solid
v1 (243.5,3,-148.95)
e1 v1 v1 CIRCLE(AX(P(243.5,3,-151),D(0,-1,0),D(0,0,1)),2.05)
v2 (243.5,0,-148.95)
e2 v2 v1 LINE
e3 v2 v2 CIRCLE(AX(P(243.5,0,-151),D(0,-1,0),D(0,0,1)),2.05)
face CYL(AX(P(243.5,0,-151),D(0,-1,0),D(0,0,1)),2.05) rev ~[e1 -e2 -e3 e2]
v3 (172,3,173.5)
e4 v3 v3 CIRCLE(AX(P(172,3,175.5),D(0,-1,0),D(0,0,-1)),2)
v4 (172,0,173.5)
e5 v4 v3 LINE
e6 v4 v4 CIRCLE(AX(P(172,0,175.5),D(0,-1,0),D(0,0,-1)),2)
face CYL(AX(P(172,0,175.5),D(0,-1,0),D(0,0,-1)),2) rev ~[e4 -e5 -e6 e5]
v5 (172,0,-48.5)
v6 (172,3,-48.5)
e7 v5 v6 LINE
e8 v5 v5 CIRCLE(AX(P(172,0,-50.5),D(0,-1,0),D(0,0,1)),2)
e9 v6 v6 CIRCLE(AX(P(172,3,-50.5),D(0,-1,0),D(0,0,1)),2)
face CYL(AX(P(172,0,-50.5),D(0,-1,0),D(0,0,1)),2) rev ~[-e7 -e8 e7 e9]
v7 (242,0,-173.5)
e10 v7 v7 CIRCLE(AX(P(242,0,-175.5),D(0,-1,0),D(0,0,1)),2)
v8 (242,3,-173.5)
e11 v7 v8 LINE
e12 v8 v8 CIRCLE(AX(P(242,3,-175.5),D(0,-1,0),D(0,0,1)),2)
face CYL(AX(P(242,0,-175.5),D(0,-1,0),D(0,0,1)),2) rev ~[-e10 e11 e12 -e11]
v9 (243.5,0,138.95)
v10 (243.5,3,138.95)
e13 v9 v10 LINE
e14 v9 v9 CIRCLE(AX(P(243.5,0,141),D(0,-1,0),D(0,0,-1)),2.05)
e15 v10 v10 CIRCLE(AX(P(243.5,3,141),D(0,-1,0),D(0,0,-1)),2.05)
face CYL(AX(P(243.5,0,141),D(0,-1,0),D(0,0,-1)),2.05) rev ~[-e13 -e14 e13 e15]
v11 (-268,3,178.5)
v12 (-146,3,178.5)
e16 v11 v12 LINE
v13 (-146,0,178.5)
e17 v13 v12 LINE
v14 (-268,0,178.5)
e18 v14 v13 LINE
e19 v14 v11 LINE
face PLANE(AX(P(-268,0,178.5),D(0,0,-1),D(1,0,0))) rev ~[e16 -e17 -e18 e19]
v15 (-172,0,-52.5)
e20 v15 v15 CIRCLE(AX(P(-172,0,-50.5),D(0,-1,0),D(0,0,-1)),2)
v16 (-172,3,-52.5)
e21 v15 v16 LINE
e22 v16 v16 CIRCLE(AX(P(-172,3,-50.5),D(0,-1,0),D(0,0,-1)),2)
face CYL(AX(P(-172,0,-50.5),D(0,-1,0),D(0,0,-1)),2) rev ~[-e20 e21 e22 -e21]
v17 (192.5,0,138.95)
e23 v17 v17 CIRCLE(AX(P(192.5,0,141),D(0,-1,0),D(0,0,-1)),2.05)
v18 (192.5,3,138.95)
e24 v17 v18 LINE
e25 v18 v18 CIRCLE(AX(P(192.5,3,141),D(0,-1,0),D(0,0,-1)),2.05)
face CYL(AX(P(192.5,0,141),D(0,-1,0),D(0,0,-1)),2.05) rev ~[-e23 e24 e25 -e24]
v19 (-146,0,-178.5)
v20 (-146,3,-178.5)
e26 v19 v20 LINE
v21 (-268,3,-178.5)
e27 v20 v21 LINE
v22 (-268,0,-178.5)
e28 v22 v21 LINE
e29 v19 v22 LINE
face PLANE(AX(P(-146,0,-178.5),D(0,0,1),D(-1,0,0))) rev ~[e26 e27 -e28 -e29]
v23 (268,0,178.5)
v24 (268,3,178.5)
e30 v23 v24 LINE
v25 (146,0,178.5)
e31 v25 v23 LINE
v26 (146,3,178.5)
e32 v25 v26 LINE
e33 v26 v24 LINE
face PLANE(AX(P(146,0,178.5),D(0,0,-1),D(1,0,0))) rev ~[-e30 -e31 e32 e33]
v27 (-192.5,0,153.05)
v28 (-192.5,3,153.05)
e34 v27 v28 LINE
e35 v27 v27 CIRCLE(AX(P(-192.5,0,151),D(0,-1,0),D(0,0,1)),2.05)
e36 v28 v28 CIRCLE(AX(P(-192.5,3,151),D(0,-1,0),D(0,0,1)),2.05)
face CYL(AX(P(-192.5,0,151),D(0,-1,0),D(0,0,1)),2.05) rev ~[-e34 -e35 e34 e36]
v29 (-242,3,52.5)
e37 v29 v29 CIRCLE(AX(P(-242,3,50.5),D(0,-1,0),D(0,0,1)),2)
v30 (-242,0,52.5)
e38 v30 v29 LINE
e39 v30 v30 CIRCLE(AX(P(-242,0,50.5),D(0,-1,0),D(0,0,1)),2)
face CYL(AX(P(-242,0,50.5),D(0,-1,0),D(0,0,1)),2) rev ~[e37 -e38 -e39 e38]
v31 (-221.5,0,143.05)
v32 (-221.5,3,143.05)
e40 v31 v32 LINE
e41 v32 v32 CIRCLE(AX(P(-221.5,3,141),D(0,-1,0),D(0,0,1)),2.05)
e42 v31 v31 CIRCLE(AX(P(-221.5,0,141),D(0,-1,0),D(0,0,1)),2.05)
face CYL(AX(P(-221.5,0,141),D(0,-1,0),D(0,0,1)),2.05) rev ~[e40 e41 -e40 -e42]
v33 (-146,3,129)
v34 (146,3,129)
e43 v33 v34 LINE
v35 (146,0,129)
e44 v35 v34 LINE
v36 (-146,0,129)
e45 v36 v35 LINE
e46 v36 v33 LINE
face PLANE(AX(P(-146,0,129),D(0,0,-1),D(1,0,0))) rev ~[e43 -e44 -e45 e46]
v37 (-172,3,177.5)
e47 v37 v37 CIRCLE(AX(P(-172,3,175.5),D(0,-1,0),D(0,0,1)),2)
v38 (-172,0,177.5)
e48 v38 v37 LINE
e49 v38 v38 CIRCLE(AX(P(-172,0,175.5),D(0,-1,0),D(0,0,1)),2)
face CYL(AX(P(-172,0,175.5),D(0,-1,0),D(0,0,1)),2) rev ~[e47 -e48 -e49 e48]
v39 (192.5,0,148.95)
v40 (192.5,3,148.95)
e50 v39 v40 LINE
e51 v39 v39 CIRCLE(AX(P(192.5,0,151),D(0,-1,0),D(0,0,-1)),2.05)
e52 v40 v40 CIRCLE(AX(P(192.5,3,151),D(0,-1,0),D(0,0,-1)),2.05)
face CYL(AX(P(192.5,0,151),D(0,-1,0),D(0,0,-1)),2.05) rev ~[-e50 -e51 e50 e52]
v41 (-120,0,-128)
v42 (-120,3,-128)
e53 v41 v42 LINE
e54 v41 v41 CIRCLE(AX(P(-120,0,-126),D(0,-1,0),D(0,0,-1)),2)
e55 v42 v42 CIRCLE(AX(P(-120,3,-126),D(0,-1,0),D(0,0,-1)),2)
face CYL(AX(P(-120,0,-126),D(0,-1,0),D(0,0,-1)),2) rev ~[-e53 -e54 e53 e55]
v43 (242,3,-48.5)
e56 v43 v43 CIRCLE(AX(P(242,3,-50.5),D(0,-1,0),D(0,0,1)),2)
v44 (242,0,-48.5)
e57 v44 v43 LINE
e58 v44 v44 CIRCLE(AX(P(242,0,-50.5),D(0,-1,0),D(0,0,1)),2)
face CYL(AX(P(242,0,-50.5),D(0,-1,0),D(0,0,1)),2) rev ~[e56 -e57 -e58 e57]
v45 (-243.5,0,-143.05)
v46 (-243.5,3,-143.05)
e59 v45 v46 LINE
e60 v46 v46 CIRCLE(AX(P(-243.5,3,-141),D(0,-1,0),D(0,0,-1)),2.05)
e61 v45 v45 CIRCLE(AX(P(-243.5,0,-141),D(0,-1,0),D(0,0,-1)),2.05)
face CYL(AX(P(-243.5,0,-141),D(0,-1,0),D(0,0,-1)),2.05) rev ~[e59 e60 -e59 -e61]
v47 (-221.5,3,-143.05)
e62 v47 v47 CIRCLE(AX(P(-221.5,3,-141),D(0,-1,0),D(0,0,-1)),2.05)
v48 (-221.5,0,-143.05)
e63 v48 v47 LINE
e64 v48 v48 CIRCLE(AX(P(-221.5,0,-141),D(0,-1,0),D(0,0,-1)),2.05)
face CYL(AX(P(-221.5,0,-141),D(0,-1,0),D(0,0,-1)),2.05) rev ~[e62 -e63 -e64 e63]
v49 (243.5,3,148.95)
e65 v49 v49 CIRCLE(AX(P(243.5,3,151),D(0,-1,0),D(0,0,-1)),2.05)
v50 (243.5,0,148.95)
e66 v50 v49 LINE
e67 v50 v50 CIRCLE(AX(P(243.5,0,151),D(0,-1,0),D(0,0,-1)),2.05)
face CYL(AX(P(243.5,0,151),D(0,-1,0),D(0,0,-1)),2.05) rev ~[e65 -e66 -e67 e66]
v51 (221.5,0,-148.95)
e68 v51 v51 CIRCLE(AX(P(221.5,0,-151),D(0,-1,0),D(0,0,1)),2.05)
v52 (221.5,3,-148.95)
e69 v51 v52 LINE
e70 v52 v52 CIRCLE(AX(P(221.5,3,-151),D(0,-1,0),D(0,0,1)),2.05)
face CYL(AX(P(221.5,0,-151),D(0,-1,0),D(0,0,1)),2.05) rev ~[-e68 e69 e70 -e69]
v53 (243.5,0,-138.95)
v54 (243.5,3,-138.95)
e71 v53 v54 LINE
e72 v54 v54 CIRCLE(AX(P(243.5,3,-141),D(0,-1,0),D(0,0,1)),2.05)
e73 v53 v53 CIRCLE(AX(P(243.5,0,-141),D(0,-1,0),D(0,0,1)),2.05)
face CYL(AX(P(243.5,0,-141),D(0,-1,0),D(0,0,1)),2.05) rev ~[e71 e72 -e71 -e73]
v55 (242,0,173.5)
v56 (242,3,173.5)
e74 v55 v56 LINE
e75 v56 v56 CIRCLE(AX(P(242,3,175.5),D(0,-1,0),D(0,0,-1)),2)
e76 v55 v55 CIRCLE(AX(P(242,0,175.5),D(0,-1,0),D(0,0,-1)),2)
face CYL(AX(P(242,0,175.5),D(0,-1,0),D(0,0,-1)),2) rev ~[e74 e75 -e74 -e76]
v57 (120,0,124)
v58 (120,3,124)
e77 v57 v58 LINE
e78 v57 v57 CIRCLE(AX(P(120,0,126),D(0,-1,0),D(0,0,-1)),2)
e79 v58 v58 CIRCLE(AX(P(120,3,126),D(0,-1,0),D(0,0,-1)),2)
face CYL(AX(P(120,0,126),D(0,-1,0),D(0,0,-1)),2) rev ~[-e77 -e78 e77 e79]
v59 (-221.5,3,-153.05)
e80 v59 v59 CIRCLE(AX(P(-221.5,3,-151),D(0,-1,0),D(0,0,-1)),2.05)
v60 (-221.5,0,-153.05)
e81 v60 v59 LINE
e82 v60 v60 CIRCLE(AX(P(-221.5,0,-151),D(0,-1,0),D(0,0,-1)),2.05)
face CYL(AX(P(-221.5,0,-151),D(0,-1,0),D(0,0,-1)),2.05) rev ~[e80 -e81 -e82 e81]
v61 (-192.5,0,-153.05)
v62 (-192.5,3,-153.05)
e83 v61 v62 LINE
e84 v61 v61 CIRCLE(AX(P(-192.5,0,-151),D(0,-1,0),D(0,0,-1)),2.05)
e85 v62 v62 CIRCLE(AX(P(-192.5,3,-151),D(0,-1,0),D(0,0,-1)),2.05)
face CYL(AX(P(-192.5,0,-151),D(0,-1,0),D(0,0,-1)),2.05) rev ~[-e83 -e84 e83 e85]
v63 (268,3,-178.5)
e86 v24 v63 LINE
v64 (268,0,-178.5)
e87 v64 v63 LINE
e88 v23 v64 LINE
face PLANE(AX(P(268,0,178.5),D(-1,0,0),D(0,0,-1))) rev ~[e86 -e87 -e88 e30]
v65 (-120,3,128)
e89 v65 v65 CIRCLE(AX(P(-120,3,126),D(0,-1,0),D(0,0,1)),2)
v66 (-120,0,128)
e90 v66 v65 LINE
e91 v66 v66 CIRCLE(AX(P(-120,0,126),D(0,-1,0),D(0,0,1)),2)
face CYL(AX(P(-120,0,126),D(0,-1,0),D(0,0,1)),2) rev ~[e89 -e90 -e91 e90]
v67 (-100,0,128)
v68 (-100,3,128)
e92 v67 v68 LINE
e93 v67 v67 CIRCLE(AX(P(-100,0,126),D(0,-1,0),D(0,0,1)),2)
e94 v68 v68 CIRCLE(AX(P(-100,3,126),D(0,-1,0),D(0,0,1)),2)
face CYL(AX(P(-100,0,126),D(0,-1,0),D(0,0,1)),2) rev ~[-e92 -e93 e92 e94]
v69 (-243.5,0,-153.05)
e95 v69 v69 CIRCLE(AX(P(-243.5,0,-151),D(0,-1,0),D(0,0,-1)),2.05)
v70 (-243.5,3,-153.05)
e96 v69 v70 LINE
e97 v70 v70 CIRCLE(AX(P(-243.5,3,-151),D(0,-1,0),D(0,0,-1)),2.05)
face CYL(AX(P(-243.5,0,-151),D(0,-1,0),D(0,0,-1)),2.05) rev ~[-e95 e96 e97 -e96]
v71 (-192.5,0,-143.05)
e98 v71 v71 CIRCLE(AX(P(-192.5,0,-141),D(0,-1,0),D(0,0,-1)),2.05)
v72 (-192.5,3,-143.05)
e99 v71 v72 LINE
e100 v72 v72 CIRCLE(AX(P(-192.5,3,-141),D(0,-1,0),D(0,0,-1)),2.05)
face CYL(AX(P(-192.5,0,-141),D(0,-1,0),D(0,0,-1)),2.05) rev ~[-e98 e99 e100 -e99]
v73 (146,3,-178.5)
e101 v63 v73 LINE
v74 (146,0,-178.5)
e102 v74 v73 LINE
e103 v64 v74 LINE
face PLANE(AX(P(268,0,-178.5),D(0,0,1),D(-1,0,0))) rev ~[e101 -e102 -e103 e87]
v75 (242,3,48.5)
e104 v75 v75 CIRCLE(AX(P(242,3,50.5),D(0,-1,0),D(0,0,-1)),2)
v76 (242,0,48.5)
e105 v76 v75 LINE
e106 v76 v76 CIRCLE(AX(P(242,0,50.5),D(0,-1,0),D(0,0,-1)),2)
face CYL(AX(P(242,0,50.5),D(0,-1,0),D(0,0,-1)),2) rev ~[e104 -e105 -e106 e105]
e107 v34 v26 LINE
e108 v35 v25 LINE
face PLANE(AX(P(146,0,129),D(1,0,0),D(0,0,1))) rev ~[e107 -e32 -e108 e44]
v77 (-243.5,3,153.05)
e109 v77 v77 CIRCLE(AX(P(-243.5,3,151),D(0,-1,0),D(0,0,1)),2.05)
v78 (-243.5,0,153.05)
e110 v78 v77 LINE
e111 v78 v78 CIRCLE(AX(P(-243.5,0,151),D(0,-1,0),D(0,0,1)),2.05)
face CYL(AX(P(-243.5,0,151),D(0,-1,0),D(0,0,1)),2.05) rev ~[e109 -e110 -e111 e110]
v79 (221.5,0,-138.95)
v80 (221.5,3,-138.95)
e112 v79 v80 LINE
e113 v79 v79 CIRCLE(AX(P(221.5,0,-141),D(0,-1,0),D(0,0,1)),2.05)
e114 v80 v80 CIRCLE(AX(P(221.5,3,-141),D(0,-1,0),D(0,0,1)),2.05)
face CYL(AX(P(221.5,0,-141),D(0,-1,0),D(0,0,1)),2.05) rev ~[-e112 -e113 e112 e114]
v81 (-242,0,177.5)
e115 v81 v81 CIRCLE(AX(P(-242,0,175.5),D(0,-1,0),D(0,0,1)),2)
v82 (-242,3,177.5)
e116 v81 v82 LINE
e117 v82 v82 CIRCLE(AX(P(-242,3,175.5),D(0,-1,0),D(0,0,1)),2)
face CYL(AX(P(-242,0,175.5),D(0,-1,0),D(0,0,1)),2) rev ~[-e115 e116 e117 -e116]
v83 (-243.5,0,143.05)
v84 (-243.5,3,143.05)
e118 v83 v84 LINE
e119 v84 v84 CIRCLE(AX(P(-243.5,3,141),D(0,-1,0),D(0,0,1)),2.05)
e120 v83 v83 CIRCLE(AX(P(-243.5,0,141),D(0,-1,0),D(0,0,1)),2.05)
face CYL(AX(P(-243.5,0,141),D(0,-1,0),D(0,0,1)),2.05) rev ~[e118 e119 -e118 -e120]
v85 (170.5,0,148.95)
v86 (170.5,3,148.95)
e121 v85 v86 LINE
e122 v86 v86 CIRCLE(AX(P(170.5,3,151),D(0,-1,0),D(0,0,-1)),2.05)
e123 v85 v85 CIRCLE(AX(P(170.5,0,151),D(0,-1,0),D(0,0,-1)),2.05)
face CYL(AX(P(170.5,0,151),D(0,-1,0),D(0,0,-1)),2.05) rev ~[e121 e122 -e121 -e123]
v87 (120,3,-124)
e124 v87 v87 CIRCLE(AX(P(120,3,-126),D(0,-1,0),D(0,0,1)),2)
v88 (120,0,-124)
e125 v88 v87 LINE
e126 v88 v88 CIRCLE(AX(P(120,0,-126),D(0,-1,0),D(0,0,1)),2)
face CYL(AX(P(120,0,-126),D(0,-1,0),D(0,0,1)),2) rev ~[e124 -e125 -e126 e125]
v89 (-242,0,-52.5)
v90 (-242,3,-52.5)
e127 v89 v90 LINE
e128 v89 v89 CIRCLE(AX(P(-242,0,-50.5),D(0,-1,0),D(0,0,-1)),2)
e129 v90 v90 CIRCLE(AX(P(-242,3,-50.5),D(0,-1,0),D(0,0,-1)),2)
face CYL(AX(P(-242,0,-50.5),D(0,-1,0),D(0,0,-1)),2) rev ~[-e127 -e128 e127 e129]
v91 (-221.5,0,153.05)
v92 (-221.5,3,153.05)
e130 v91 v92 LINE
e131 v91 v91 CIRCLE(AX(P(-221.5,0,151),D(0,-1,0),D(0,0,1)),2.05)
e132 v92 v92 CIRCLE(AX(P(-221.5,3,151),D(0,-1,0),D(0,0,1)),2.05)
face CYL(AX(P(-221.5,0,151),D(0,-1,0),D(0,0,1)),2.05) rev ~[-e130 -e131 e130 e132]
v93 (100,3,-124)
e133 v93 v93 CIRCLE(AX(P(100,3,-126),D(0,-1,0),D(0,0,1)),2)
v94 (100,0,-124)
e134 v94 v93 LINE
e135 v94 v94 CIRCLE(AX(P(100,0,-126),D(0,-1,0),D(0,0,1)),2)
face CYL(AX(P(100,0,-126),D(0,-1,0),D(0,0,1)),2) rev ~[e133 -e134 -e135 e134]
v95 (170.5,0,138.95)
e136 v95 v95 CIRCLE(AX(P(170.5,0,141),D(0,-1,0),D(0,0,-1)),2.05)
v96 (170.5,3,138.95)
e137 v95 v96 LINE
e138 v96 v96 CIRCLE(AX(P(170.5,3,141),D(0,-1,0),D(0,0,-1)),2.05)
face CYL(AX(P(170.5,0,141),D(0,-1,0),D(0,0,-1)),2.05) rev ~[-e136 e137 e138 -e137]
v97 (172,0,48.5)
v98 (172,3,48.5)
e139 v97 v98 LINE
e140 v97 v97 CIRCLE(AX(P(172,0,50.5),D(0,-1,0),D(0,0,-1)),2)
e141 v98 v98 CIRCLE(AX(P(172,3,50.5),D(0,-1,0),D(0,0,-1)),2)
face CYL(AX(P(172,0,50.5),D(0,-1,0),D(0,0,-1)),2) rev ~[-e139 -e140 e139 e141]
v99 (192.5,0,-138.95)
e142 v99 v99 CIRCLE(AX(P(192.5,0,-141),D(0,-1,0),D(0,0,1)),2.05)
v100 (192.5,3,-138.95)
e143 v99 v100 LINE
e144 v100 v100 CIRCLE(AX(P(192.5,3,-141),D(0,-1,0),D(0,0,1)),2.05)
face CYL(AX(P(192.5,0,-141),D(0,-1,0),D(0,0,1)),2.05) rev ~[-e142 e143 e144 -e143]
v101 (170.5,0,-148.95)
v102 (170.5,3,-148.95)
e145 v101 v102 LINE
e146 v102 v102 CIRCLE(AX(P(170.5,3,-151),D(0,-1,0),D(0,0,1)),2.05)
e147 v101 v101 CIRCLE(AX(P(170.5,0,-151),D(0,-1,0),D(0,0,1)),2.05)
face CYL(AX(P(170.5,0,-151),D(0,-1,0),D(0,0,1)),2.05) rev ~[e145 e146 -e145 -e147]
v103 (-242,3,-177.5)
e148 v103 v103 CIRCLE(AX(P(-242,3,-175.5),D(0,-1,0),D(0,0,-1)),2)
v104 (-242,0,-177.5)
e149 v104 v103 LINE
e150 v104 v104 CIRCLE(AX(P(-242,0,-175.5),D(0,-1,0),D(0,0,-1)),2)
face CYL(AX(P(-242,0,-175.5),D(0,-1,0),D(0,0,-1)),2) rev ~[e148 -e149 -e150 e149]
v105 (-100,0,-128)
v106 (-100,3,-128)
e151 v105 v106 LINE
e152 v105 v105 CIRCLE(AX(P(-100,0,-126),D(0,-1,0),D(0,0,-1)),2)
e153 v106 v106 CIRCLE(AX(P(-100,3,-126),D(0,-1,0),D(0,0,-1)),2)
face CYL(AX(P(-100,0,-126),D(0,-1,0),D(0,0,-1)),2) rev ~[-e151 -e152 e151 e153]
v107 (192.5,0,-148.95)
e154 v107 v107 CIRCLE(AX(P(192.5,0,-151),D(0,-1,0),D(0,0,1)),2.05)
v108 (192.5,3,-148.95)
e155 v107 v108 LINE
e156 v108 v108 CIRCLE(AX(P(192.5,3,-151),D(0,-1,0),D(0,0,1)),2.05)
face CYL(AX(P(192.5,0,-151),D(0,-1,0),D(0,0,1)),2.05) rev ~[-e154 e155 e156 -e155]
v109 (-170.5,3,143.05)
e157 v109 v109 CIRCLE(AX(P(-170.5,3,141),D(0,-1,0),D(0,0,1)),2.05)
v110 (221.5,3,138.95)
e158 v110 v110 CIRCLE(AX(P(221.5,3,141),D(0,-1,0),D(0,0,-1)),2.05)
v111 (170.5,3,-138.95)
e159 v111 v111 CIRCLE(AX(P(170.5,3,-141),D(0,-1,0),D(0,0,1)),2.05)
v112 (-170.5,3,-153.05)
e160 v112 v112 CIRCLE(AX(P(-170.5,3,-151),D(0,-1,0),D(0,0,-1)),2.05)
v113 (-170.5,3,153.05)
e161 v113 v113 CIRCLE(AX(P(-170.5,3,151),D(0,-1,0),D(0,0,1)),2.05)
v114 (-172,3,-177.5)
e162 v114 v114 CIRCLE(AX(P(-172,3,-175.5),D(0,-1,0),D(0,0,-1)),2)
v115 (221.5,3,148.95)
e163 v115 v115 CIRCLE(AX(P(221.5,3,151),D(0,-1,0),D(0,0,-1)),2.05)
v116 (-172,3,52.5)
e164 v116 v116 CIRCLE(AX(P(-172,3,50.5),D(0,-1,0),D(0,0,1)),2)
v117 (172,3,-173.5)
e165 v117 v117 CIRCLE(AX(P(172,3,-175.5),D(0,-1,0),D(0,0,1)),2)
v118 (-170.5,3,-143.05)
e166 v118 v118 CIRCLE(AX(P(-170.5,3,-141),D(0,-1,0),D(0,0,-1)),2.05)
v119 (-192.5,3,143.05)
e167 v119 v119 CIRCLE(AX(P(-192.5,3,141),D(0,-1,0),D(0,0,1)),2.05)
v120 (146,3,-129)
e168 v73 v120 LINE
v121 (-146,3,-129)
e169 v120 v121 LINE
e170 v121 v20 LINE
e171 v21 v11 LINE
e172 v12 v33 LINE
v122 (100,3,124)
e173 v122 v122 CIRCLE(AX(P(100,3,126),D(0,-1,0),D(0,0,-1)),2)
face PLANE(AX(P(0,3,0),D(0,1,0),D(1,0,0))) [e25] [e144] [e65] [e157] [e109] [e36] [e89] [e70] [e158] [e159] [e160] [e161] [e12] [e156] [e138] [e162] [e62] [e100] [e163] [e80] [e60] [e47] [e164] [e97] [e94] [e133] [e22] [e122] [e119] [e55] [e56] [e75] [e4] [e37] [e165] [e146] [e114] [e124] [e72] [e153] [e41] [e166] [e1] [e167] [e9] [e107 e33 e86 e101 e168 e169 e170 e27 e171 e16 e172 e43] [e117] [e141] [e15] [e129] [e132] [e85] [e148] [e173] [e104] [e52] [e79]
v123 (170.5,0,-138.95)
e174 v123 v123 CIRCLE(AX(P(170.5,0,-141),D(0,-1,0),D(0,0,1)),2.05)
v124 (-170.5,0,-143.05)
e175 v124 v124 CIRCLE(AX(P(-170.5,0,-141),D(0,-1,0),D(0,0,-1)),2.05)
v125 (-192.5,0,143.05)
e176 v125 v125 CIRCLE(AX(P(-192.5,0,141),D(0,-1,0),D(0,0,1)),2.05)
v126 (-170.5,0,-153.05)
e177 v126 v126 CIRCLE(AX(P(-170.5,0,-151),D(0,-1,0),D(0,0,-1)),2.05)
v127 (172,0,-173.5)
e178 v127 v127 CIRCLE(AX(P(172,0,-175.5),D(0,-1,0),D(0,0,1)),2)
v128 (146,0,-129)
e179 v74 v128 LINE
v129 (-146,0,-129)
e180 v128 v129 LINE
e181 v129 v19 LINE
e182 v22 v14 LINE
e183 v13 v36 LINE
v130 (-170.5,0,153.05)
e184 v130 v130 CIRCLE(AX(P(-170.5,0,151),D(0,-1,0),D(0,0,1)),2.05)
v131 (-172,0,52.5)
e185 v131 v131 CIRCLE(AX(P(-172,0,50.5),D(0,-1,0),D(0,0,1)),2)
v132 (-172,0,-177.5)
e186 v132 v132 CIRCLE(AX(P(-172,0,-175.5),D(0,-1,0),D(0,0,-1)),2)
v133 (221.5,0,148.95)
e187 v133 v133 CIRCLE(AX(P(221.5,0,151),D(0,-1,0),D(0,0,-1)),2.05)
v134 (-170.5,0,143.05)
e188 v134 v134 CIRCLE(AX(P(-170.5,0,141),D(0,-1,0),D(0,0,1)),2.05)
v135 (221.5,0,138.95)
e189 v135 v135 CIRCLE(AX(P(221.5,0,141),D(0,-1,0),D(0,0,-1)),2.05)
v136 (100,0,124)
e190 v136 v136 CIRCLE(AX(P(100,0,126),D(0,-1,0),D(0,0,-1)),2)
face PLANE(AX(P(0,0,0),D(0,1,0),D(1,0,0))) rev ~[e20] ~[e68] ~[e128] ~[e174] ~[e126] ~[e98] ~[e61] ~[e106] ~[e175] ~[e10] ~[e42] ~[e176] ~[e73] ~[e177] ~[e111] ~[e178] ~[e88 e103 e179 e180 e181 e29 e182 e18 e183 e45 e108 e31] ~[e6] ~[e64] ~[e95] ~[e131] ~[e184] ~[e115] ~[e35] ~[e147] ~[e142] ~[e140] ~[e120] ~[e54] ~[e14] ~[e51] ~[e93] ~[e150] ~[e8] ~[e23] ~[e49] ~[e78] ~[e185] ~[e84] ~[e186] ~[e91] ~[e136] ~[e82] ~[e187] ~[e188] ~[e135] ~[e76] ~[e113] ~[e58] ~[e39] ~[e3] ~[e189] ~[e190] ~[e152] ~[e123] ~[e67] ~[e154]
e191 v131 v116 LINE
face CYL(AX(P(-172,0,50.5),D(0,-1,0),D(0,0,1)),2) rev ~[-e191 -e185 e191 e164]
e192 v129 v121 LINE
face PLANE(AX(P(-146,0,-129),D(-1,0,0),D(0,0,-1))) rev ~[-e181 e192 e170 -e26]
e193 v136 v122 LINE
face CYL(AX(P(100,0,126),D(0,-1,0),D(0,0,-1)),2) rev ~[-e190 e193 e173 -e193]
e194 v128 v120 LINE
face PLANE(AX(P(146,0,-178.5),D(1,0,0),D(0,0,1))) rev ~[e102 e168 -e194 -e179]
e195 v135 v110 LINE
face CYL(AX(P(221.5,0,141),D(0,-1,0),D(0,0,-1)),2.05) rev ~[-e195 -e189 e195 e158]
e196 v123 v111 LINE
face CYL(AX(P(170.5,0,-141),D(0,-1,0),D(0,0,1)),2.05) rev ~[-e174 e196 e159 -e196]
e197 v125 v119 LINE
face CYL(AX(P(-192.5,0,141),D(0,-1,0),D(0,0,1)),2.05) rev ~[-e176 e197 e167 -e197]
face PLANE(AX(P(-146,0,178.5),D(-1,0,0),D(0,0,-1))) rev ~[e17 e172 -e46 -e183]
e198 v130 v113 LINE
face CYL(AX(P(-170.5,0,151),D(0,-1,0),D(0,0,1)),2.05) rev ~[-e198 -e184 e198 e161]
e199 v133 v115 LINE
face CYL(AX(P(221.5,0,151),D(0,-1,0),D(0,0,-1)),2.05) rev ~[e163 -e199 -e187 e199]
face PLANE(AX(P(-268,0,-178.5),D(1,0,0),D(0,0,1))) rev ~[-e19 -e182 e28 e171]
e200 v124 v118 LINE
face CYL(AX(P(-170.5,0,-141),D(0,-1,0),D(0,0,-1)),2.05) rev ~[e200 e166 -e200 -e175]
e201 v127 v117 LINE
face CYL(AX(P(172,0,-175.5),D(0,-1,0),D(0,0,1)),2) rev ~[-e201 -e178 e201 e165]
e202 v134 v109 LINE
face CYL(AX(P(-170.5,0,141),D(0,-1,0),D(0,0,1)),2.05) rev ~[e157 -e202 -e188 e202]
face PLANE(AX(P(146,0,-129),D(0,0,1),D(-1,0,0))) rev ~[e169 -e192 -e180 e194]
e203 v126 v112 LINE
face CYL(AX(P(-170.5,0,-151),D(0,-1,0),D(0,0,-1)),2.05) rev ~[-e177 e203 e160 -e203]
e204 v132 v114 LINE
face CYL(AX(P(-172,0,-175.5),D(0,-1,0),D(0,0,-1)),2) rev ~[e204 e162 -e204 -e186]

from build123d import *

# Parameters (mm, degrees)
EXTRUDE_1_DEPTH     = 3
SKETCH_6_R          = 2
SKETCH_6_R_2        = 2.05
CUT_EXTRUDE_2_DEPTH = 3


with BuildPart() as part:
    # 草图1 → 凸台-拉伸1 (new body)
    with BuildSketch(Plane(origin=(0, 0, 0), x_dir=(1, 0, 0), z_dir=(0, 1, 0))):
        Polygon((-268, 178.5), (-268, -178.5), (-146, -178.5), (-146, -129), (146, -129), (146, -178.5), (268, -178.5), (268, 178.5), (146, 178.5), (146, 129), (-146, 129), (-146, 178.5), align=None)
    extrude(amount=EXTRUDE_1_DEPTH)

    # 草图6 → 切除-拉伸2 (cut)
    with BuildSketch(Plane.XZ):
        with Locations(Location((172, 175.5, 0), (0, 0, 270))):
            Circle(SKETCH_6_R)
        with Locations(Location((242, 175.5, 0), (0, 0, 270))):
            Circle(SKETCH_6_R)
        with Locations(Location((170.5, 151, 0), (0, 0, 270))):
            Circle(SKETCH_6_R_2)
        with Locations(Location((192.5, 151, 0), (0, 0, 270))):
            Circle(SKETCH_6_R_2)
        with Locations(Location((192.5, 141, 0), (0, 0, 270))):
            Circle(SKETCH_6_R_2)
        with Locations(Location((170.5, 141, 0), (0, 0, 270))):
            Circle(SKETCH_6_R_2)
        with Locations(Location((221.5, 151, 0), (0, 0, 270))):
            Circle(SKETCH_6_R_2)
        with Locations(Location((221.5, 141, 0), (0, 0, 270))):
            Circle(SKETCH_6_R_2)
        with Locations(Location((243.5, 151, 0), (0, 0, 270))):
            Circle(SKETCH_6_R_2)
        with Locations(Location((243.5, 141, 0), (0, 0, 270))):
            Circle(SKETCH_6_R_2)
        with Locations(Location((172, 50.5, 0), (0, 0, 270))):
            Circle(SKETCH_6_R)
        with Locations(Location((242, 50.5, 0), (0, 0, 270))):
            Circle(SKETCH_6_R)
        with Locations(Location((100, 126, 0), (0, 0, 270))):
            Circle(SKETCH_6_R)
        with Locations(Location((120, 126, 0), (0, 0, 270))):
            Circle(SKETCH_6_R)
        with Locations(Location((242, -50.5, 0), (0, 0, 90))):
            Circle(SKETCH_6_R)
        with Locations(Location((172, -50.5, 0), (0, 0, 90))):
            Circle(SKETCH_6_R)
        with Locations(Location((243.5, -141, 0), (0, 0, 90))):
            Circle(SKETCH_6_R_2)
        with Locations(Location((243.5, -151, 0), (0, 0, 90))):
            Circle(SKETCH_6_R_2)
        with Locations(Location((221.5, -141, 0), (0, 0, 90))):
            Circle(SKETCH_6_R_2)
        with Locations(Location((221.5, -151, 0), (0, 0, 90))):
            Circle(SKETCH_6_R_2)
        with Locations(Location((192.5, -141, 0), (0, 0, 90))):
            Circle(SKETCH_6_R_2)
        with Locations(Location((170.5, -141, 0), (0, 0, 90))):
            Circle(SKETCH_6_R_2)
        with Locations(Location((170.5, -151, 0), (0, 0, 90))):
            Circle(SKETCH_6_R_2)
        with Locations(Location((192.5, -151, 0), (0, 0, 90))):
            Circle(SKETCH_6_R_2)
        with Locations(Location((242, -175.5, 0), (0, 0, 90))):
            Circle(SKETCH_6_R)
        with Locations(Location((172, -175.5, 0), (0, 0, 90))):
            Circle(SKETCH_6_R)
        with Locations(Location((120, -126, 0), (0, 0, 90))):
            Circle(SKETCH_6_R)
        with Locations(Location((100, -126, 0), (0, 0, 90))):
            Circle(SKETCH_6_R)
        with Locations(Location((-172, -175.5, 0), (0, 0, 270))):
            Circle(SKETCH_6_R)
        with Locations(Location((-242, -175.5, 0), (0, 0, 270))):
            Circle(SKETCH_6_R)
        with Locations(Location((-221.5, -151, 0), (0, 0, 270))):
            Circle(SKETCH_6_R_2)
        with Locations(Location((-243.5, -151, 0), (0, 0, 270))):
            Circle(SKETCH_6_R_2)
        with Locations(Location((-243.5, -141, 0), (0, 0, 270))):
            Circle(SKETCH_6_R_2)
        with Locations(Location((-221.5, -141, 0), (0, 0, 270))):
            Circle(SKETCH_6_R_2)
        with Locations(Location((-170.5, -151, 0), (0, 0, 270))):
            Circle(SKETCH_6_R_2)
        with Locations(Location((-192.5, -151, 0), (0, 0, 270))):
            Circle(SKETCH_6_R_2)
        with Locations(Location((-192.5, -141, 0), (0, 0, 270))):
            Circle(SKETCH_6_R_2)
        with Locations(Location((-170.5, -141, 0), (0, 0, 270))):
            Circle(SKETCH_6_R_2)
        with Locations(Location((-100, -126, 0), (0, 0, 270))):
            Circle(SKETCH_6_R)
        with Locations(Location((-120, -126, 0), (0, 0, 270))):
            Circle(SKETCH_6_R)
        with Locations(Location((-242, -50.5, 0), (0, 0, 270))):
            Circle(SKETCH_6_R)
        with Locations(Location((-172, -50.5, 0), (0, 0, 270))):
            Circle(SKETCH_6_R)
        with Locations(Location((-242, 50.5, 0), (0, 0, 90))):
            Circle(SKETCH_6_R)
        with Locations(Location((-172, 50.5, 0), (0, 0, 90))):
            Circle(SKETCH_6_R)
        with Locations(Location((-243.5, 141, 0), (0, 0, 90))):
            Circle(SKETCH_6_R_2)
        with Locations(Location((-243.5, 151, 0), (0, 0, 90))):
            Circle(SKETCH_6_R_2)
        with Locations(Location((-221.5, 141, 0), (0, 0, 90))):
            Circle(SKETCH_6_R_2)
        with Locations(Location((-221.5, 151, 0), (0, 0, 90))):
            Circle(SKETCH_6_R_2)
        with Locations(Location((-192.5, 141, 0), (0, 0, 90))):
            Circle(SKETCH_6_R_2)
        with Locations(Location((-170.5, 141, 0), (0, 0, 90))):
            Circle(SKETCH_6_R_2)
        with Locations(Location((-192.5, 151, 0), (0, 0, 90))):
            Circle(SKETCH_6_R_2)
        with Locations(Location((-170.5, 151, 0), (0, 0, 90))):
            Circle(SKETCH_6_R_2)
        with Locations(Location((-242, 175.5, 0), (0, 0, 90))):
            Circle(SKETCH_6_R)
        with Locations(Location((-172, 175.5, 0), (0, 0, 90))):
            Circle(SKETCH_6_R)
        with Locations(Location((-120, 126, 0), (0, 0, 90))):
            Circle(SKETCH_6_R)
        with Locations(Location((-100, 126, 0), (0, 0, 90))):
            Circle(SKETCH_6_R)
    extrude(amount=-CUT_EXTRUDE_2_DEPTH, mode=Mode.SUBTRACT)


solid = part.part
